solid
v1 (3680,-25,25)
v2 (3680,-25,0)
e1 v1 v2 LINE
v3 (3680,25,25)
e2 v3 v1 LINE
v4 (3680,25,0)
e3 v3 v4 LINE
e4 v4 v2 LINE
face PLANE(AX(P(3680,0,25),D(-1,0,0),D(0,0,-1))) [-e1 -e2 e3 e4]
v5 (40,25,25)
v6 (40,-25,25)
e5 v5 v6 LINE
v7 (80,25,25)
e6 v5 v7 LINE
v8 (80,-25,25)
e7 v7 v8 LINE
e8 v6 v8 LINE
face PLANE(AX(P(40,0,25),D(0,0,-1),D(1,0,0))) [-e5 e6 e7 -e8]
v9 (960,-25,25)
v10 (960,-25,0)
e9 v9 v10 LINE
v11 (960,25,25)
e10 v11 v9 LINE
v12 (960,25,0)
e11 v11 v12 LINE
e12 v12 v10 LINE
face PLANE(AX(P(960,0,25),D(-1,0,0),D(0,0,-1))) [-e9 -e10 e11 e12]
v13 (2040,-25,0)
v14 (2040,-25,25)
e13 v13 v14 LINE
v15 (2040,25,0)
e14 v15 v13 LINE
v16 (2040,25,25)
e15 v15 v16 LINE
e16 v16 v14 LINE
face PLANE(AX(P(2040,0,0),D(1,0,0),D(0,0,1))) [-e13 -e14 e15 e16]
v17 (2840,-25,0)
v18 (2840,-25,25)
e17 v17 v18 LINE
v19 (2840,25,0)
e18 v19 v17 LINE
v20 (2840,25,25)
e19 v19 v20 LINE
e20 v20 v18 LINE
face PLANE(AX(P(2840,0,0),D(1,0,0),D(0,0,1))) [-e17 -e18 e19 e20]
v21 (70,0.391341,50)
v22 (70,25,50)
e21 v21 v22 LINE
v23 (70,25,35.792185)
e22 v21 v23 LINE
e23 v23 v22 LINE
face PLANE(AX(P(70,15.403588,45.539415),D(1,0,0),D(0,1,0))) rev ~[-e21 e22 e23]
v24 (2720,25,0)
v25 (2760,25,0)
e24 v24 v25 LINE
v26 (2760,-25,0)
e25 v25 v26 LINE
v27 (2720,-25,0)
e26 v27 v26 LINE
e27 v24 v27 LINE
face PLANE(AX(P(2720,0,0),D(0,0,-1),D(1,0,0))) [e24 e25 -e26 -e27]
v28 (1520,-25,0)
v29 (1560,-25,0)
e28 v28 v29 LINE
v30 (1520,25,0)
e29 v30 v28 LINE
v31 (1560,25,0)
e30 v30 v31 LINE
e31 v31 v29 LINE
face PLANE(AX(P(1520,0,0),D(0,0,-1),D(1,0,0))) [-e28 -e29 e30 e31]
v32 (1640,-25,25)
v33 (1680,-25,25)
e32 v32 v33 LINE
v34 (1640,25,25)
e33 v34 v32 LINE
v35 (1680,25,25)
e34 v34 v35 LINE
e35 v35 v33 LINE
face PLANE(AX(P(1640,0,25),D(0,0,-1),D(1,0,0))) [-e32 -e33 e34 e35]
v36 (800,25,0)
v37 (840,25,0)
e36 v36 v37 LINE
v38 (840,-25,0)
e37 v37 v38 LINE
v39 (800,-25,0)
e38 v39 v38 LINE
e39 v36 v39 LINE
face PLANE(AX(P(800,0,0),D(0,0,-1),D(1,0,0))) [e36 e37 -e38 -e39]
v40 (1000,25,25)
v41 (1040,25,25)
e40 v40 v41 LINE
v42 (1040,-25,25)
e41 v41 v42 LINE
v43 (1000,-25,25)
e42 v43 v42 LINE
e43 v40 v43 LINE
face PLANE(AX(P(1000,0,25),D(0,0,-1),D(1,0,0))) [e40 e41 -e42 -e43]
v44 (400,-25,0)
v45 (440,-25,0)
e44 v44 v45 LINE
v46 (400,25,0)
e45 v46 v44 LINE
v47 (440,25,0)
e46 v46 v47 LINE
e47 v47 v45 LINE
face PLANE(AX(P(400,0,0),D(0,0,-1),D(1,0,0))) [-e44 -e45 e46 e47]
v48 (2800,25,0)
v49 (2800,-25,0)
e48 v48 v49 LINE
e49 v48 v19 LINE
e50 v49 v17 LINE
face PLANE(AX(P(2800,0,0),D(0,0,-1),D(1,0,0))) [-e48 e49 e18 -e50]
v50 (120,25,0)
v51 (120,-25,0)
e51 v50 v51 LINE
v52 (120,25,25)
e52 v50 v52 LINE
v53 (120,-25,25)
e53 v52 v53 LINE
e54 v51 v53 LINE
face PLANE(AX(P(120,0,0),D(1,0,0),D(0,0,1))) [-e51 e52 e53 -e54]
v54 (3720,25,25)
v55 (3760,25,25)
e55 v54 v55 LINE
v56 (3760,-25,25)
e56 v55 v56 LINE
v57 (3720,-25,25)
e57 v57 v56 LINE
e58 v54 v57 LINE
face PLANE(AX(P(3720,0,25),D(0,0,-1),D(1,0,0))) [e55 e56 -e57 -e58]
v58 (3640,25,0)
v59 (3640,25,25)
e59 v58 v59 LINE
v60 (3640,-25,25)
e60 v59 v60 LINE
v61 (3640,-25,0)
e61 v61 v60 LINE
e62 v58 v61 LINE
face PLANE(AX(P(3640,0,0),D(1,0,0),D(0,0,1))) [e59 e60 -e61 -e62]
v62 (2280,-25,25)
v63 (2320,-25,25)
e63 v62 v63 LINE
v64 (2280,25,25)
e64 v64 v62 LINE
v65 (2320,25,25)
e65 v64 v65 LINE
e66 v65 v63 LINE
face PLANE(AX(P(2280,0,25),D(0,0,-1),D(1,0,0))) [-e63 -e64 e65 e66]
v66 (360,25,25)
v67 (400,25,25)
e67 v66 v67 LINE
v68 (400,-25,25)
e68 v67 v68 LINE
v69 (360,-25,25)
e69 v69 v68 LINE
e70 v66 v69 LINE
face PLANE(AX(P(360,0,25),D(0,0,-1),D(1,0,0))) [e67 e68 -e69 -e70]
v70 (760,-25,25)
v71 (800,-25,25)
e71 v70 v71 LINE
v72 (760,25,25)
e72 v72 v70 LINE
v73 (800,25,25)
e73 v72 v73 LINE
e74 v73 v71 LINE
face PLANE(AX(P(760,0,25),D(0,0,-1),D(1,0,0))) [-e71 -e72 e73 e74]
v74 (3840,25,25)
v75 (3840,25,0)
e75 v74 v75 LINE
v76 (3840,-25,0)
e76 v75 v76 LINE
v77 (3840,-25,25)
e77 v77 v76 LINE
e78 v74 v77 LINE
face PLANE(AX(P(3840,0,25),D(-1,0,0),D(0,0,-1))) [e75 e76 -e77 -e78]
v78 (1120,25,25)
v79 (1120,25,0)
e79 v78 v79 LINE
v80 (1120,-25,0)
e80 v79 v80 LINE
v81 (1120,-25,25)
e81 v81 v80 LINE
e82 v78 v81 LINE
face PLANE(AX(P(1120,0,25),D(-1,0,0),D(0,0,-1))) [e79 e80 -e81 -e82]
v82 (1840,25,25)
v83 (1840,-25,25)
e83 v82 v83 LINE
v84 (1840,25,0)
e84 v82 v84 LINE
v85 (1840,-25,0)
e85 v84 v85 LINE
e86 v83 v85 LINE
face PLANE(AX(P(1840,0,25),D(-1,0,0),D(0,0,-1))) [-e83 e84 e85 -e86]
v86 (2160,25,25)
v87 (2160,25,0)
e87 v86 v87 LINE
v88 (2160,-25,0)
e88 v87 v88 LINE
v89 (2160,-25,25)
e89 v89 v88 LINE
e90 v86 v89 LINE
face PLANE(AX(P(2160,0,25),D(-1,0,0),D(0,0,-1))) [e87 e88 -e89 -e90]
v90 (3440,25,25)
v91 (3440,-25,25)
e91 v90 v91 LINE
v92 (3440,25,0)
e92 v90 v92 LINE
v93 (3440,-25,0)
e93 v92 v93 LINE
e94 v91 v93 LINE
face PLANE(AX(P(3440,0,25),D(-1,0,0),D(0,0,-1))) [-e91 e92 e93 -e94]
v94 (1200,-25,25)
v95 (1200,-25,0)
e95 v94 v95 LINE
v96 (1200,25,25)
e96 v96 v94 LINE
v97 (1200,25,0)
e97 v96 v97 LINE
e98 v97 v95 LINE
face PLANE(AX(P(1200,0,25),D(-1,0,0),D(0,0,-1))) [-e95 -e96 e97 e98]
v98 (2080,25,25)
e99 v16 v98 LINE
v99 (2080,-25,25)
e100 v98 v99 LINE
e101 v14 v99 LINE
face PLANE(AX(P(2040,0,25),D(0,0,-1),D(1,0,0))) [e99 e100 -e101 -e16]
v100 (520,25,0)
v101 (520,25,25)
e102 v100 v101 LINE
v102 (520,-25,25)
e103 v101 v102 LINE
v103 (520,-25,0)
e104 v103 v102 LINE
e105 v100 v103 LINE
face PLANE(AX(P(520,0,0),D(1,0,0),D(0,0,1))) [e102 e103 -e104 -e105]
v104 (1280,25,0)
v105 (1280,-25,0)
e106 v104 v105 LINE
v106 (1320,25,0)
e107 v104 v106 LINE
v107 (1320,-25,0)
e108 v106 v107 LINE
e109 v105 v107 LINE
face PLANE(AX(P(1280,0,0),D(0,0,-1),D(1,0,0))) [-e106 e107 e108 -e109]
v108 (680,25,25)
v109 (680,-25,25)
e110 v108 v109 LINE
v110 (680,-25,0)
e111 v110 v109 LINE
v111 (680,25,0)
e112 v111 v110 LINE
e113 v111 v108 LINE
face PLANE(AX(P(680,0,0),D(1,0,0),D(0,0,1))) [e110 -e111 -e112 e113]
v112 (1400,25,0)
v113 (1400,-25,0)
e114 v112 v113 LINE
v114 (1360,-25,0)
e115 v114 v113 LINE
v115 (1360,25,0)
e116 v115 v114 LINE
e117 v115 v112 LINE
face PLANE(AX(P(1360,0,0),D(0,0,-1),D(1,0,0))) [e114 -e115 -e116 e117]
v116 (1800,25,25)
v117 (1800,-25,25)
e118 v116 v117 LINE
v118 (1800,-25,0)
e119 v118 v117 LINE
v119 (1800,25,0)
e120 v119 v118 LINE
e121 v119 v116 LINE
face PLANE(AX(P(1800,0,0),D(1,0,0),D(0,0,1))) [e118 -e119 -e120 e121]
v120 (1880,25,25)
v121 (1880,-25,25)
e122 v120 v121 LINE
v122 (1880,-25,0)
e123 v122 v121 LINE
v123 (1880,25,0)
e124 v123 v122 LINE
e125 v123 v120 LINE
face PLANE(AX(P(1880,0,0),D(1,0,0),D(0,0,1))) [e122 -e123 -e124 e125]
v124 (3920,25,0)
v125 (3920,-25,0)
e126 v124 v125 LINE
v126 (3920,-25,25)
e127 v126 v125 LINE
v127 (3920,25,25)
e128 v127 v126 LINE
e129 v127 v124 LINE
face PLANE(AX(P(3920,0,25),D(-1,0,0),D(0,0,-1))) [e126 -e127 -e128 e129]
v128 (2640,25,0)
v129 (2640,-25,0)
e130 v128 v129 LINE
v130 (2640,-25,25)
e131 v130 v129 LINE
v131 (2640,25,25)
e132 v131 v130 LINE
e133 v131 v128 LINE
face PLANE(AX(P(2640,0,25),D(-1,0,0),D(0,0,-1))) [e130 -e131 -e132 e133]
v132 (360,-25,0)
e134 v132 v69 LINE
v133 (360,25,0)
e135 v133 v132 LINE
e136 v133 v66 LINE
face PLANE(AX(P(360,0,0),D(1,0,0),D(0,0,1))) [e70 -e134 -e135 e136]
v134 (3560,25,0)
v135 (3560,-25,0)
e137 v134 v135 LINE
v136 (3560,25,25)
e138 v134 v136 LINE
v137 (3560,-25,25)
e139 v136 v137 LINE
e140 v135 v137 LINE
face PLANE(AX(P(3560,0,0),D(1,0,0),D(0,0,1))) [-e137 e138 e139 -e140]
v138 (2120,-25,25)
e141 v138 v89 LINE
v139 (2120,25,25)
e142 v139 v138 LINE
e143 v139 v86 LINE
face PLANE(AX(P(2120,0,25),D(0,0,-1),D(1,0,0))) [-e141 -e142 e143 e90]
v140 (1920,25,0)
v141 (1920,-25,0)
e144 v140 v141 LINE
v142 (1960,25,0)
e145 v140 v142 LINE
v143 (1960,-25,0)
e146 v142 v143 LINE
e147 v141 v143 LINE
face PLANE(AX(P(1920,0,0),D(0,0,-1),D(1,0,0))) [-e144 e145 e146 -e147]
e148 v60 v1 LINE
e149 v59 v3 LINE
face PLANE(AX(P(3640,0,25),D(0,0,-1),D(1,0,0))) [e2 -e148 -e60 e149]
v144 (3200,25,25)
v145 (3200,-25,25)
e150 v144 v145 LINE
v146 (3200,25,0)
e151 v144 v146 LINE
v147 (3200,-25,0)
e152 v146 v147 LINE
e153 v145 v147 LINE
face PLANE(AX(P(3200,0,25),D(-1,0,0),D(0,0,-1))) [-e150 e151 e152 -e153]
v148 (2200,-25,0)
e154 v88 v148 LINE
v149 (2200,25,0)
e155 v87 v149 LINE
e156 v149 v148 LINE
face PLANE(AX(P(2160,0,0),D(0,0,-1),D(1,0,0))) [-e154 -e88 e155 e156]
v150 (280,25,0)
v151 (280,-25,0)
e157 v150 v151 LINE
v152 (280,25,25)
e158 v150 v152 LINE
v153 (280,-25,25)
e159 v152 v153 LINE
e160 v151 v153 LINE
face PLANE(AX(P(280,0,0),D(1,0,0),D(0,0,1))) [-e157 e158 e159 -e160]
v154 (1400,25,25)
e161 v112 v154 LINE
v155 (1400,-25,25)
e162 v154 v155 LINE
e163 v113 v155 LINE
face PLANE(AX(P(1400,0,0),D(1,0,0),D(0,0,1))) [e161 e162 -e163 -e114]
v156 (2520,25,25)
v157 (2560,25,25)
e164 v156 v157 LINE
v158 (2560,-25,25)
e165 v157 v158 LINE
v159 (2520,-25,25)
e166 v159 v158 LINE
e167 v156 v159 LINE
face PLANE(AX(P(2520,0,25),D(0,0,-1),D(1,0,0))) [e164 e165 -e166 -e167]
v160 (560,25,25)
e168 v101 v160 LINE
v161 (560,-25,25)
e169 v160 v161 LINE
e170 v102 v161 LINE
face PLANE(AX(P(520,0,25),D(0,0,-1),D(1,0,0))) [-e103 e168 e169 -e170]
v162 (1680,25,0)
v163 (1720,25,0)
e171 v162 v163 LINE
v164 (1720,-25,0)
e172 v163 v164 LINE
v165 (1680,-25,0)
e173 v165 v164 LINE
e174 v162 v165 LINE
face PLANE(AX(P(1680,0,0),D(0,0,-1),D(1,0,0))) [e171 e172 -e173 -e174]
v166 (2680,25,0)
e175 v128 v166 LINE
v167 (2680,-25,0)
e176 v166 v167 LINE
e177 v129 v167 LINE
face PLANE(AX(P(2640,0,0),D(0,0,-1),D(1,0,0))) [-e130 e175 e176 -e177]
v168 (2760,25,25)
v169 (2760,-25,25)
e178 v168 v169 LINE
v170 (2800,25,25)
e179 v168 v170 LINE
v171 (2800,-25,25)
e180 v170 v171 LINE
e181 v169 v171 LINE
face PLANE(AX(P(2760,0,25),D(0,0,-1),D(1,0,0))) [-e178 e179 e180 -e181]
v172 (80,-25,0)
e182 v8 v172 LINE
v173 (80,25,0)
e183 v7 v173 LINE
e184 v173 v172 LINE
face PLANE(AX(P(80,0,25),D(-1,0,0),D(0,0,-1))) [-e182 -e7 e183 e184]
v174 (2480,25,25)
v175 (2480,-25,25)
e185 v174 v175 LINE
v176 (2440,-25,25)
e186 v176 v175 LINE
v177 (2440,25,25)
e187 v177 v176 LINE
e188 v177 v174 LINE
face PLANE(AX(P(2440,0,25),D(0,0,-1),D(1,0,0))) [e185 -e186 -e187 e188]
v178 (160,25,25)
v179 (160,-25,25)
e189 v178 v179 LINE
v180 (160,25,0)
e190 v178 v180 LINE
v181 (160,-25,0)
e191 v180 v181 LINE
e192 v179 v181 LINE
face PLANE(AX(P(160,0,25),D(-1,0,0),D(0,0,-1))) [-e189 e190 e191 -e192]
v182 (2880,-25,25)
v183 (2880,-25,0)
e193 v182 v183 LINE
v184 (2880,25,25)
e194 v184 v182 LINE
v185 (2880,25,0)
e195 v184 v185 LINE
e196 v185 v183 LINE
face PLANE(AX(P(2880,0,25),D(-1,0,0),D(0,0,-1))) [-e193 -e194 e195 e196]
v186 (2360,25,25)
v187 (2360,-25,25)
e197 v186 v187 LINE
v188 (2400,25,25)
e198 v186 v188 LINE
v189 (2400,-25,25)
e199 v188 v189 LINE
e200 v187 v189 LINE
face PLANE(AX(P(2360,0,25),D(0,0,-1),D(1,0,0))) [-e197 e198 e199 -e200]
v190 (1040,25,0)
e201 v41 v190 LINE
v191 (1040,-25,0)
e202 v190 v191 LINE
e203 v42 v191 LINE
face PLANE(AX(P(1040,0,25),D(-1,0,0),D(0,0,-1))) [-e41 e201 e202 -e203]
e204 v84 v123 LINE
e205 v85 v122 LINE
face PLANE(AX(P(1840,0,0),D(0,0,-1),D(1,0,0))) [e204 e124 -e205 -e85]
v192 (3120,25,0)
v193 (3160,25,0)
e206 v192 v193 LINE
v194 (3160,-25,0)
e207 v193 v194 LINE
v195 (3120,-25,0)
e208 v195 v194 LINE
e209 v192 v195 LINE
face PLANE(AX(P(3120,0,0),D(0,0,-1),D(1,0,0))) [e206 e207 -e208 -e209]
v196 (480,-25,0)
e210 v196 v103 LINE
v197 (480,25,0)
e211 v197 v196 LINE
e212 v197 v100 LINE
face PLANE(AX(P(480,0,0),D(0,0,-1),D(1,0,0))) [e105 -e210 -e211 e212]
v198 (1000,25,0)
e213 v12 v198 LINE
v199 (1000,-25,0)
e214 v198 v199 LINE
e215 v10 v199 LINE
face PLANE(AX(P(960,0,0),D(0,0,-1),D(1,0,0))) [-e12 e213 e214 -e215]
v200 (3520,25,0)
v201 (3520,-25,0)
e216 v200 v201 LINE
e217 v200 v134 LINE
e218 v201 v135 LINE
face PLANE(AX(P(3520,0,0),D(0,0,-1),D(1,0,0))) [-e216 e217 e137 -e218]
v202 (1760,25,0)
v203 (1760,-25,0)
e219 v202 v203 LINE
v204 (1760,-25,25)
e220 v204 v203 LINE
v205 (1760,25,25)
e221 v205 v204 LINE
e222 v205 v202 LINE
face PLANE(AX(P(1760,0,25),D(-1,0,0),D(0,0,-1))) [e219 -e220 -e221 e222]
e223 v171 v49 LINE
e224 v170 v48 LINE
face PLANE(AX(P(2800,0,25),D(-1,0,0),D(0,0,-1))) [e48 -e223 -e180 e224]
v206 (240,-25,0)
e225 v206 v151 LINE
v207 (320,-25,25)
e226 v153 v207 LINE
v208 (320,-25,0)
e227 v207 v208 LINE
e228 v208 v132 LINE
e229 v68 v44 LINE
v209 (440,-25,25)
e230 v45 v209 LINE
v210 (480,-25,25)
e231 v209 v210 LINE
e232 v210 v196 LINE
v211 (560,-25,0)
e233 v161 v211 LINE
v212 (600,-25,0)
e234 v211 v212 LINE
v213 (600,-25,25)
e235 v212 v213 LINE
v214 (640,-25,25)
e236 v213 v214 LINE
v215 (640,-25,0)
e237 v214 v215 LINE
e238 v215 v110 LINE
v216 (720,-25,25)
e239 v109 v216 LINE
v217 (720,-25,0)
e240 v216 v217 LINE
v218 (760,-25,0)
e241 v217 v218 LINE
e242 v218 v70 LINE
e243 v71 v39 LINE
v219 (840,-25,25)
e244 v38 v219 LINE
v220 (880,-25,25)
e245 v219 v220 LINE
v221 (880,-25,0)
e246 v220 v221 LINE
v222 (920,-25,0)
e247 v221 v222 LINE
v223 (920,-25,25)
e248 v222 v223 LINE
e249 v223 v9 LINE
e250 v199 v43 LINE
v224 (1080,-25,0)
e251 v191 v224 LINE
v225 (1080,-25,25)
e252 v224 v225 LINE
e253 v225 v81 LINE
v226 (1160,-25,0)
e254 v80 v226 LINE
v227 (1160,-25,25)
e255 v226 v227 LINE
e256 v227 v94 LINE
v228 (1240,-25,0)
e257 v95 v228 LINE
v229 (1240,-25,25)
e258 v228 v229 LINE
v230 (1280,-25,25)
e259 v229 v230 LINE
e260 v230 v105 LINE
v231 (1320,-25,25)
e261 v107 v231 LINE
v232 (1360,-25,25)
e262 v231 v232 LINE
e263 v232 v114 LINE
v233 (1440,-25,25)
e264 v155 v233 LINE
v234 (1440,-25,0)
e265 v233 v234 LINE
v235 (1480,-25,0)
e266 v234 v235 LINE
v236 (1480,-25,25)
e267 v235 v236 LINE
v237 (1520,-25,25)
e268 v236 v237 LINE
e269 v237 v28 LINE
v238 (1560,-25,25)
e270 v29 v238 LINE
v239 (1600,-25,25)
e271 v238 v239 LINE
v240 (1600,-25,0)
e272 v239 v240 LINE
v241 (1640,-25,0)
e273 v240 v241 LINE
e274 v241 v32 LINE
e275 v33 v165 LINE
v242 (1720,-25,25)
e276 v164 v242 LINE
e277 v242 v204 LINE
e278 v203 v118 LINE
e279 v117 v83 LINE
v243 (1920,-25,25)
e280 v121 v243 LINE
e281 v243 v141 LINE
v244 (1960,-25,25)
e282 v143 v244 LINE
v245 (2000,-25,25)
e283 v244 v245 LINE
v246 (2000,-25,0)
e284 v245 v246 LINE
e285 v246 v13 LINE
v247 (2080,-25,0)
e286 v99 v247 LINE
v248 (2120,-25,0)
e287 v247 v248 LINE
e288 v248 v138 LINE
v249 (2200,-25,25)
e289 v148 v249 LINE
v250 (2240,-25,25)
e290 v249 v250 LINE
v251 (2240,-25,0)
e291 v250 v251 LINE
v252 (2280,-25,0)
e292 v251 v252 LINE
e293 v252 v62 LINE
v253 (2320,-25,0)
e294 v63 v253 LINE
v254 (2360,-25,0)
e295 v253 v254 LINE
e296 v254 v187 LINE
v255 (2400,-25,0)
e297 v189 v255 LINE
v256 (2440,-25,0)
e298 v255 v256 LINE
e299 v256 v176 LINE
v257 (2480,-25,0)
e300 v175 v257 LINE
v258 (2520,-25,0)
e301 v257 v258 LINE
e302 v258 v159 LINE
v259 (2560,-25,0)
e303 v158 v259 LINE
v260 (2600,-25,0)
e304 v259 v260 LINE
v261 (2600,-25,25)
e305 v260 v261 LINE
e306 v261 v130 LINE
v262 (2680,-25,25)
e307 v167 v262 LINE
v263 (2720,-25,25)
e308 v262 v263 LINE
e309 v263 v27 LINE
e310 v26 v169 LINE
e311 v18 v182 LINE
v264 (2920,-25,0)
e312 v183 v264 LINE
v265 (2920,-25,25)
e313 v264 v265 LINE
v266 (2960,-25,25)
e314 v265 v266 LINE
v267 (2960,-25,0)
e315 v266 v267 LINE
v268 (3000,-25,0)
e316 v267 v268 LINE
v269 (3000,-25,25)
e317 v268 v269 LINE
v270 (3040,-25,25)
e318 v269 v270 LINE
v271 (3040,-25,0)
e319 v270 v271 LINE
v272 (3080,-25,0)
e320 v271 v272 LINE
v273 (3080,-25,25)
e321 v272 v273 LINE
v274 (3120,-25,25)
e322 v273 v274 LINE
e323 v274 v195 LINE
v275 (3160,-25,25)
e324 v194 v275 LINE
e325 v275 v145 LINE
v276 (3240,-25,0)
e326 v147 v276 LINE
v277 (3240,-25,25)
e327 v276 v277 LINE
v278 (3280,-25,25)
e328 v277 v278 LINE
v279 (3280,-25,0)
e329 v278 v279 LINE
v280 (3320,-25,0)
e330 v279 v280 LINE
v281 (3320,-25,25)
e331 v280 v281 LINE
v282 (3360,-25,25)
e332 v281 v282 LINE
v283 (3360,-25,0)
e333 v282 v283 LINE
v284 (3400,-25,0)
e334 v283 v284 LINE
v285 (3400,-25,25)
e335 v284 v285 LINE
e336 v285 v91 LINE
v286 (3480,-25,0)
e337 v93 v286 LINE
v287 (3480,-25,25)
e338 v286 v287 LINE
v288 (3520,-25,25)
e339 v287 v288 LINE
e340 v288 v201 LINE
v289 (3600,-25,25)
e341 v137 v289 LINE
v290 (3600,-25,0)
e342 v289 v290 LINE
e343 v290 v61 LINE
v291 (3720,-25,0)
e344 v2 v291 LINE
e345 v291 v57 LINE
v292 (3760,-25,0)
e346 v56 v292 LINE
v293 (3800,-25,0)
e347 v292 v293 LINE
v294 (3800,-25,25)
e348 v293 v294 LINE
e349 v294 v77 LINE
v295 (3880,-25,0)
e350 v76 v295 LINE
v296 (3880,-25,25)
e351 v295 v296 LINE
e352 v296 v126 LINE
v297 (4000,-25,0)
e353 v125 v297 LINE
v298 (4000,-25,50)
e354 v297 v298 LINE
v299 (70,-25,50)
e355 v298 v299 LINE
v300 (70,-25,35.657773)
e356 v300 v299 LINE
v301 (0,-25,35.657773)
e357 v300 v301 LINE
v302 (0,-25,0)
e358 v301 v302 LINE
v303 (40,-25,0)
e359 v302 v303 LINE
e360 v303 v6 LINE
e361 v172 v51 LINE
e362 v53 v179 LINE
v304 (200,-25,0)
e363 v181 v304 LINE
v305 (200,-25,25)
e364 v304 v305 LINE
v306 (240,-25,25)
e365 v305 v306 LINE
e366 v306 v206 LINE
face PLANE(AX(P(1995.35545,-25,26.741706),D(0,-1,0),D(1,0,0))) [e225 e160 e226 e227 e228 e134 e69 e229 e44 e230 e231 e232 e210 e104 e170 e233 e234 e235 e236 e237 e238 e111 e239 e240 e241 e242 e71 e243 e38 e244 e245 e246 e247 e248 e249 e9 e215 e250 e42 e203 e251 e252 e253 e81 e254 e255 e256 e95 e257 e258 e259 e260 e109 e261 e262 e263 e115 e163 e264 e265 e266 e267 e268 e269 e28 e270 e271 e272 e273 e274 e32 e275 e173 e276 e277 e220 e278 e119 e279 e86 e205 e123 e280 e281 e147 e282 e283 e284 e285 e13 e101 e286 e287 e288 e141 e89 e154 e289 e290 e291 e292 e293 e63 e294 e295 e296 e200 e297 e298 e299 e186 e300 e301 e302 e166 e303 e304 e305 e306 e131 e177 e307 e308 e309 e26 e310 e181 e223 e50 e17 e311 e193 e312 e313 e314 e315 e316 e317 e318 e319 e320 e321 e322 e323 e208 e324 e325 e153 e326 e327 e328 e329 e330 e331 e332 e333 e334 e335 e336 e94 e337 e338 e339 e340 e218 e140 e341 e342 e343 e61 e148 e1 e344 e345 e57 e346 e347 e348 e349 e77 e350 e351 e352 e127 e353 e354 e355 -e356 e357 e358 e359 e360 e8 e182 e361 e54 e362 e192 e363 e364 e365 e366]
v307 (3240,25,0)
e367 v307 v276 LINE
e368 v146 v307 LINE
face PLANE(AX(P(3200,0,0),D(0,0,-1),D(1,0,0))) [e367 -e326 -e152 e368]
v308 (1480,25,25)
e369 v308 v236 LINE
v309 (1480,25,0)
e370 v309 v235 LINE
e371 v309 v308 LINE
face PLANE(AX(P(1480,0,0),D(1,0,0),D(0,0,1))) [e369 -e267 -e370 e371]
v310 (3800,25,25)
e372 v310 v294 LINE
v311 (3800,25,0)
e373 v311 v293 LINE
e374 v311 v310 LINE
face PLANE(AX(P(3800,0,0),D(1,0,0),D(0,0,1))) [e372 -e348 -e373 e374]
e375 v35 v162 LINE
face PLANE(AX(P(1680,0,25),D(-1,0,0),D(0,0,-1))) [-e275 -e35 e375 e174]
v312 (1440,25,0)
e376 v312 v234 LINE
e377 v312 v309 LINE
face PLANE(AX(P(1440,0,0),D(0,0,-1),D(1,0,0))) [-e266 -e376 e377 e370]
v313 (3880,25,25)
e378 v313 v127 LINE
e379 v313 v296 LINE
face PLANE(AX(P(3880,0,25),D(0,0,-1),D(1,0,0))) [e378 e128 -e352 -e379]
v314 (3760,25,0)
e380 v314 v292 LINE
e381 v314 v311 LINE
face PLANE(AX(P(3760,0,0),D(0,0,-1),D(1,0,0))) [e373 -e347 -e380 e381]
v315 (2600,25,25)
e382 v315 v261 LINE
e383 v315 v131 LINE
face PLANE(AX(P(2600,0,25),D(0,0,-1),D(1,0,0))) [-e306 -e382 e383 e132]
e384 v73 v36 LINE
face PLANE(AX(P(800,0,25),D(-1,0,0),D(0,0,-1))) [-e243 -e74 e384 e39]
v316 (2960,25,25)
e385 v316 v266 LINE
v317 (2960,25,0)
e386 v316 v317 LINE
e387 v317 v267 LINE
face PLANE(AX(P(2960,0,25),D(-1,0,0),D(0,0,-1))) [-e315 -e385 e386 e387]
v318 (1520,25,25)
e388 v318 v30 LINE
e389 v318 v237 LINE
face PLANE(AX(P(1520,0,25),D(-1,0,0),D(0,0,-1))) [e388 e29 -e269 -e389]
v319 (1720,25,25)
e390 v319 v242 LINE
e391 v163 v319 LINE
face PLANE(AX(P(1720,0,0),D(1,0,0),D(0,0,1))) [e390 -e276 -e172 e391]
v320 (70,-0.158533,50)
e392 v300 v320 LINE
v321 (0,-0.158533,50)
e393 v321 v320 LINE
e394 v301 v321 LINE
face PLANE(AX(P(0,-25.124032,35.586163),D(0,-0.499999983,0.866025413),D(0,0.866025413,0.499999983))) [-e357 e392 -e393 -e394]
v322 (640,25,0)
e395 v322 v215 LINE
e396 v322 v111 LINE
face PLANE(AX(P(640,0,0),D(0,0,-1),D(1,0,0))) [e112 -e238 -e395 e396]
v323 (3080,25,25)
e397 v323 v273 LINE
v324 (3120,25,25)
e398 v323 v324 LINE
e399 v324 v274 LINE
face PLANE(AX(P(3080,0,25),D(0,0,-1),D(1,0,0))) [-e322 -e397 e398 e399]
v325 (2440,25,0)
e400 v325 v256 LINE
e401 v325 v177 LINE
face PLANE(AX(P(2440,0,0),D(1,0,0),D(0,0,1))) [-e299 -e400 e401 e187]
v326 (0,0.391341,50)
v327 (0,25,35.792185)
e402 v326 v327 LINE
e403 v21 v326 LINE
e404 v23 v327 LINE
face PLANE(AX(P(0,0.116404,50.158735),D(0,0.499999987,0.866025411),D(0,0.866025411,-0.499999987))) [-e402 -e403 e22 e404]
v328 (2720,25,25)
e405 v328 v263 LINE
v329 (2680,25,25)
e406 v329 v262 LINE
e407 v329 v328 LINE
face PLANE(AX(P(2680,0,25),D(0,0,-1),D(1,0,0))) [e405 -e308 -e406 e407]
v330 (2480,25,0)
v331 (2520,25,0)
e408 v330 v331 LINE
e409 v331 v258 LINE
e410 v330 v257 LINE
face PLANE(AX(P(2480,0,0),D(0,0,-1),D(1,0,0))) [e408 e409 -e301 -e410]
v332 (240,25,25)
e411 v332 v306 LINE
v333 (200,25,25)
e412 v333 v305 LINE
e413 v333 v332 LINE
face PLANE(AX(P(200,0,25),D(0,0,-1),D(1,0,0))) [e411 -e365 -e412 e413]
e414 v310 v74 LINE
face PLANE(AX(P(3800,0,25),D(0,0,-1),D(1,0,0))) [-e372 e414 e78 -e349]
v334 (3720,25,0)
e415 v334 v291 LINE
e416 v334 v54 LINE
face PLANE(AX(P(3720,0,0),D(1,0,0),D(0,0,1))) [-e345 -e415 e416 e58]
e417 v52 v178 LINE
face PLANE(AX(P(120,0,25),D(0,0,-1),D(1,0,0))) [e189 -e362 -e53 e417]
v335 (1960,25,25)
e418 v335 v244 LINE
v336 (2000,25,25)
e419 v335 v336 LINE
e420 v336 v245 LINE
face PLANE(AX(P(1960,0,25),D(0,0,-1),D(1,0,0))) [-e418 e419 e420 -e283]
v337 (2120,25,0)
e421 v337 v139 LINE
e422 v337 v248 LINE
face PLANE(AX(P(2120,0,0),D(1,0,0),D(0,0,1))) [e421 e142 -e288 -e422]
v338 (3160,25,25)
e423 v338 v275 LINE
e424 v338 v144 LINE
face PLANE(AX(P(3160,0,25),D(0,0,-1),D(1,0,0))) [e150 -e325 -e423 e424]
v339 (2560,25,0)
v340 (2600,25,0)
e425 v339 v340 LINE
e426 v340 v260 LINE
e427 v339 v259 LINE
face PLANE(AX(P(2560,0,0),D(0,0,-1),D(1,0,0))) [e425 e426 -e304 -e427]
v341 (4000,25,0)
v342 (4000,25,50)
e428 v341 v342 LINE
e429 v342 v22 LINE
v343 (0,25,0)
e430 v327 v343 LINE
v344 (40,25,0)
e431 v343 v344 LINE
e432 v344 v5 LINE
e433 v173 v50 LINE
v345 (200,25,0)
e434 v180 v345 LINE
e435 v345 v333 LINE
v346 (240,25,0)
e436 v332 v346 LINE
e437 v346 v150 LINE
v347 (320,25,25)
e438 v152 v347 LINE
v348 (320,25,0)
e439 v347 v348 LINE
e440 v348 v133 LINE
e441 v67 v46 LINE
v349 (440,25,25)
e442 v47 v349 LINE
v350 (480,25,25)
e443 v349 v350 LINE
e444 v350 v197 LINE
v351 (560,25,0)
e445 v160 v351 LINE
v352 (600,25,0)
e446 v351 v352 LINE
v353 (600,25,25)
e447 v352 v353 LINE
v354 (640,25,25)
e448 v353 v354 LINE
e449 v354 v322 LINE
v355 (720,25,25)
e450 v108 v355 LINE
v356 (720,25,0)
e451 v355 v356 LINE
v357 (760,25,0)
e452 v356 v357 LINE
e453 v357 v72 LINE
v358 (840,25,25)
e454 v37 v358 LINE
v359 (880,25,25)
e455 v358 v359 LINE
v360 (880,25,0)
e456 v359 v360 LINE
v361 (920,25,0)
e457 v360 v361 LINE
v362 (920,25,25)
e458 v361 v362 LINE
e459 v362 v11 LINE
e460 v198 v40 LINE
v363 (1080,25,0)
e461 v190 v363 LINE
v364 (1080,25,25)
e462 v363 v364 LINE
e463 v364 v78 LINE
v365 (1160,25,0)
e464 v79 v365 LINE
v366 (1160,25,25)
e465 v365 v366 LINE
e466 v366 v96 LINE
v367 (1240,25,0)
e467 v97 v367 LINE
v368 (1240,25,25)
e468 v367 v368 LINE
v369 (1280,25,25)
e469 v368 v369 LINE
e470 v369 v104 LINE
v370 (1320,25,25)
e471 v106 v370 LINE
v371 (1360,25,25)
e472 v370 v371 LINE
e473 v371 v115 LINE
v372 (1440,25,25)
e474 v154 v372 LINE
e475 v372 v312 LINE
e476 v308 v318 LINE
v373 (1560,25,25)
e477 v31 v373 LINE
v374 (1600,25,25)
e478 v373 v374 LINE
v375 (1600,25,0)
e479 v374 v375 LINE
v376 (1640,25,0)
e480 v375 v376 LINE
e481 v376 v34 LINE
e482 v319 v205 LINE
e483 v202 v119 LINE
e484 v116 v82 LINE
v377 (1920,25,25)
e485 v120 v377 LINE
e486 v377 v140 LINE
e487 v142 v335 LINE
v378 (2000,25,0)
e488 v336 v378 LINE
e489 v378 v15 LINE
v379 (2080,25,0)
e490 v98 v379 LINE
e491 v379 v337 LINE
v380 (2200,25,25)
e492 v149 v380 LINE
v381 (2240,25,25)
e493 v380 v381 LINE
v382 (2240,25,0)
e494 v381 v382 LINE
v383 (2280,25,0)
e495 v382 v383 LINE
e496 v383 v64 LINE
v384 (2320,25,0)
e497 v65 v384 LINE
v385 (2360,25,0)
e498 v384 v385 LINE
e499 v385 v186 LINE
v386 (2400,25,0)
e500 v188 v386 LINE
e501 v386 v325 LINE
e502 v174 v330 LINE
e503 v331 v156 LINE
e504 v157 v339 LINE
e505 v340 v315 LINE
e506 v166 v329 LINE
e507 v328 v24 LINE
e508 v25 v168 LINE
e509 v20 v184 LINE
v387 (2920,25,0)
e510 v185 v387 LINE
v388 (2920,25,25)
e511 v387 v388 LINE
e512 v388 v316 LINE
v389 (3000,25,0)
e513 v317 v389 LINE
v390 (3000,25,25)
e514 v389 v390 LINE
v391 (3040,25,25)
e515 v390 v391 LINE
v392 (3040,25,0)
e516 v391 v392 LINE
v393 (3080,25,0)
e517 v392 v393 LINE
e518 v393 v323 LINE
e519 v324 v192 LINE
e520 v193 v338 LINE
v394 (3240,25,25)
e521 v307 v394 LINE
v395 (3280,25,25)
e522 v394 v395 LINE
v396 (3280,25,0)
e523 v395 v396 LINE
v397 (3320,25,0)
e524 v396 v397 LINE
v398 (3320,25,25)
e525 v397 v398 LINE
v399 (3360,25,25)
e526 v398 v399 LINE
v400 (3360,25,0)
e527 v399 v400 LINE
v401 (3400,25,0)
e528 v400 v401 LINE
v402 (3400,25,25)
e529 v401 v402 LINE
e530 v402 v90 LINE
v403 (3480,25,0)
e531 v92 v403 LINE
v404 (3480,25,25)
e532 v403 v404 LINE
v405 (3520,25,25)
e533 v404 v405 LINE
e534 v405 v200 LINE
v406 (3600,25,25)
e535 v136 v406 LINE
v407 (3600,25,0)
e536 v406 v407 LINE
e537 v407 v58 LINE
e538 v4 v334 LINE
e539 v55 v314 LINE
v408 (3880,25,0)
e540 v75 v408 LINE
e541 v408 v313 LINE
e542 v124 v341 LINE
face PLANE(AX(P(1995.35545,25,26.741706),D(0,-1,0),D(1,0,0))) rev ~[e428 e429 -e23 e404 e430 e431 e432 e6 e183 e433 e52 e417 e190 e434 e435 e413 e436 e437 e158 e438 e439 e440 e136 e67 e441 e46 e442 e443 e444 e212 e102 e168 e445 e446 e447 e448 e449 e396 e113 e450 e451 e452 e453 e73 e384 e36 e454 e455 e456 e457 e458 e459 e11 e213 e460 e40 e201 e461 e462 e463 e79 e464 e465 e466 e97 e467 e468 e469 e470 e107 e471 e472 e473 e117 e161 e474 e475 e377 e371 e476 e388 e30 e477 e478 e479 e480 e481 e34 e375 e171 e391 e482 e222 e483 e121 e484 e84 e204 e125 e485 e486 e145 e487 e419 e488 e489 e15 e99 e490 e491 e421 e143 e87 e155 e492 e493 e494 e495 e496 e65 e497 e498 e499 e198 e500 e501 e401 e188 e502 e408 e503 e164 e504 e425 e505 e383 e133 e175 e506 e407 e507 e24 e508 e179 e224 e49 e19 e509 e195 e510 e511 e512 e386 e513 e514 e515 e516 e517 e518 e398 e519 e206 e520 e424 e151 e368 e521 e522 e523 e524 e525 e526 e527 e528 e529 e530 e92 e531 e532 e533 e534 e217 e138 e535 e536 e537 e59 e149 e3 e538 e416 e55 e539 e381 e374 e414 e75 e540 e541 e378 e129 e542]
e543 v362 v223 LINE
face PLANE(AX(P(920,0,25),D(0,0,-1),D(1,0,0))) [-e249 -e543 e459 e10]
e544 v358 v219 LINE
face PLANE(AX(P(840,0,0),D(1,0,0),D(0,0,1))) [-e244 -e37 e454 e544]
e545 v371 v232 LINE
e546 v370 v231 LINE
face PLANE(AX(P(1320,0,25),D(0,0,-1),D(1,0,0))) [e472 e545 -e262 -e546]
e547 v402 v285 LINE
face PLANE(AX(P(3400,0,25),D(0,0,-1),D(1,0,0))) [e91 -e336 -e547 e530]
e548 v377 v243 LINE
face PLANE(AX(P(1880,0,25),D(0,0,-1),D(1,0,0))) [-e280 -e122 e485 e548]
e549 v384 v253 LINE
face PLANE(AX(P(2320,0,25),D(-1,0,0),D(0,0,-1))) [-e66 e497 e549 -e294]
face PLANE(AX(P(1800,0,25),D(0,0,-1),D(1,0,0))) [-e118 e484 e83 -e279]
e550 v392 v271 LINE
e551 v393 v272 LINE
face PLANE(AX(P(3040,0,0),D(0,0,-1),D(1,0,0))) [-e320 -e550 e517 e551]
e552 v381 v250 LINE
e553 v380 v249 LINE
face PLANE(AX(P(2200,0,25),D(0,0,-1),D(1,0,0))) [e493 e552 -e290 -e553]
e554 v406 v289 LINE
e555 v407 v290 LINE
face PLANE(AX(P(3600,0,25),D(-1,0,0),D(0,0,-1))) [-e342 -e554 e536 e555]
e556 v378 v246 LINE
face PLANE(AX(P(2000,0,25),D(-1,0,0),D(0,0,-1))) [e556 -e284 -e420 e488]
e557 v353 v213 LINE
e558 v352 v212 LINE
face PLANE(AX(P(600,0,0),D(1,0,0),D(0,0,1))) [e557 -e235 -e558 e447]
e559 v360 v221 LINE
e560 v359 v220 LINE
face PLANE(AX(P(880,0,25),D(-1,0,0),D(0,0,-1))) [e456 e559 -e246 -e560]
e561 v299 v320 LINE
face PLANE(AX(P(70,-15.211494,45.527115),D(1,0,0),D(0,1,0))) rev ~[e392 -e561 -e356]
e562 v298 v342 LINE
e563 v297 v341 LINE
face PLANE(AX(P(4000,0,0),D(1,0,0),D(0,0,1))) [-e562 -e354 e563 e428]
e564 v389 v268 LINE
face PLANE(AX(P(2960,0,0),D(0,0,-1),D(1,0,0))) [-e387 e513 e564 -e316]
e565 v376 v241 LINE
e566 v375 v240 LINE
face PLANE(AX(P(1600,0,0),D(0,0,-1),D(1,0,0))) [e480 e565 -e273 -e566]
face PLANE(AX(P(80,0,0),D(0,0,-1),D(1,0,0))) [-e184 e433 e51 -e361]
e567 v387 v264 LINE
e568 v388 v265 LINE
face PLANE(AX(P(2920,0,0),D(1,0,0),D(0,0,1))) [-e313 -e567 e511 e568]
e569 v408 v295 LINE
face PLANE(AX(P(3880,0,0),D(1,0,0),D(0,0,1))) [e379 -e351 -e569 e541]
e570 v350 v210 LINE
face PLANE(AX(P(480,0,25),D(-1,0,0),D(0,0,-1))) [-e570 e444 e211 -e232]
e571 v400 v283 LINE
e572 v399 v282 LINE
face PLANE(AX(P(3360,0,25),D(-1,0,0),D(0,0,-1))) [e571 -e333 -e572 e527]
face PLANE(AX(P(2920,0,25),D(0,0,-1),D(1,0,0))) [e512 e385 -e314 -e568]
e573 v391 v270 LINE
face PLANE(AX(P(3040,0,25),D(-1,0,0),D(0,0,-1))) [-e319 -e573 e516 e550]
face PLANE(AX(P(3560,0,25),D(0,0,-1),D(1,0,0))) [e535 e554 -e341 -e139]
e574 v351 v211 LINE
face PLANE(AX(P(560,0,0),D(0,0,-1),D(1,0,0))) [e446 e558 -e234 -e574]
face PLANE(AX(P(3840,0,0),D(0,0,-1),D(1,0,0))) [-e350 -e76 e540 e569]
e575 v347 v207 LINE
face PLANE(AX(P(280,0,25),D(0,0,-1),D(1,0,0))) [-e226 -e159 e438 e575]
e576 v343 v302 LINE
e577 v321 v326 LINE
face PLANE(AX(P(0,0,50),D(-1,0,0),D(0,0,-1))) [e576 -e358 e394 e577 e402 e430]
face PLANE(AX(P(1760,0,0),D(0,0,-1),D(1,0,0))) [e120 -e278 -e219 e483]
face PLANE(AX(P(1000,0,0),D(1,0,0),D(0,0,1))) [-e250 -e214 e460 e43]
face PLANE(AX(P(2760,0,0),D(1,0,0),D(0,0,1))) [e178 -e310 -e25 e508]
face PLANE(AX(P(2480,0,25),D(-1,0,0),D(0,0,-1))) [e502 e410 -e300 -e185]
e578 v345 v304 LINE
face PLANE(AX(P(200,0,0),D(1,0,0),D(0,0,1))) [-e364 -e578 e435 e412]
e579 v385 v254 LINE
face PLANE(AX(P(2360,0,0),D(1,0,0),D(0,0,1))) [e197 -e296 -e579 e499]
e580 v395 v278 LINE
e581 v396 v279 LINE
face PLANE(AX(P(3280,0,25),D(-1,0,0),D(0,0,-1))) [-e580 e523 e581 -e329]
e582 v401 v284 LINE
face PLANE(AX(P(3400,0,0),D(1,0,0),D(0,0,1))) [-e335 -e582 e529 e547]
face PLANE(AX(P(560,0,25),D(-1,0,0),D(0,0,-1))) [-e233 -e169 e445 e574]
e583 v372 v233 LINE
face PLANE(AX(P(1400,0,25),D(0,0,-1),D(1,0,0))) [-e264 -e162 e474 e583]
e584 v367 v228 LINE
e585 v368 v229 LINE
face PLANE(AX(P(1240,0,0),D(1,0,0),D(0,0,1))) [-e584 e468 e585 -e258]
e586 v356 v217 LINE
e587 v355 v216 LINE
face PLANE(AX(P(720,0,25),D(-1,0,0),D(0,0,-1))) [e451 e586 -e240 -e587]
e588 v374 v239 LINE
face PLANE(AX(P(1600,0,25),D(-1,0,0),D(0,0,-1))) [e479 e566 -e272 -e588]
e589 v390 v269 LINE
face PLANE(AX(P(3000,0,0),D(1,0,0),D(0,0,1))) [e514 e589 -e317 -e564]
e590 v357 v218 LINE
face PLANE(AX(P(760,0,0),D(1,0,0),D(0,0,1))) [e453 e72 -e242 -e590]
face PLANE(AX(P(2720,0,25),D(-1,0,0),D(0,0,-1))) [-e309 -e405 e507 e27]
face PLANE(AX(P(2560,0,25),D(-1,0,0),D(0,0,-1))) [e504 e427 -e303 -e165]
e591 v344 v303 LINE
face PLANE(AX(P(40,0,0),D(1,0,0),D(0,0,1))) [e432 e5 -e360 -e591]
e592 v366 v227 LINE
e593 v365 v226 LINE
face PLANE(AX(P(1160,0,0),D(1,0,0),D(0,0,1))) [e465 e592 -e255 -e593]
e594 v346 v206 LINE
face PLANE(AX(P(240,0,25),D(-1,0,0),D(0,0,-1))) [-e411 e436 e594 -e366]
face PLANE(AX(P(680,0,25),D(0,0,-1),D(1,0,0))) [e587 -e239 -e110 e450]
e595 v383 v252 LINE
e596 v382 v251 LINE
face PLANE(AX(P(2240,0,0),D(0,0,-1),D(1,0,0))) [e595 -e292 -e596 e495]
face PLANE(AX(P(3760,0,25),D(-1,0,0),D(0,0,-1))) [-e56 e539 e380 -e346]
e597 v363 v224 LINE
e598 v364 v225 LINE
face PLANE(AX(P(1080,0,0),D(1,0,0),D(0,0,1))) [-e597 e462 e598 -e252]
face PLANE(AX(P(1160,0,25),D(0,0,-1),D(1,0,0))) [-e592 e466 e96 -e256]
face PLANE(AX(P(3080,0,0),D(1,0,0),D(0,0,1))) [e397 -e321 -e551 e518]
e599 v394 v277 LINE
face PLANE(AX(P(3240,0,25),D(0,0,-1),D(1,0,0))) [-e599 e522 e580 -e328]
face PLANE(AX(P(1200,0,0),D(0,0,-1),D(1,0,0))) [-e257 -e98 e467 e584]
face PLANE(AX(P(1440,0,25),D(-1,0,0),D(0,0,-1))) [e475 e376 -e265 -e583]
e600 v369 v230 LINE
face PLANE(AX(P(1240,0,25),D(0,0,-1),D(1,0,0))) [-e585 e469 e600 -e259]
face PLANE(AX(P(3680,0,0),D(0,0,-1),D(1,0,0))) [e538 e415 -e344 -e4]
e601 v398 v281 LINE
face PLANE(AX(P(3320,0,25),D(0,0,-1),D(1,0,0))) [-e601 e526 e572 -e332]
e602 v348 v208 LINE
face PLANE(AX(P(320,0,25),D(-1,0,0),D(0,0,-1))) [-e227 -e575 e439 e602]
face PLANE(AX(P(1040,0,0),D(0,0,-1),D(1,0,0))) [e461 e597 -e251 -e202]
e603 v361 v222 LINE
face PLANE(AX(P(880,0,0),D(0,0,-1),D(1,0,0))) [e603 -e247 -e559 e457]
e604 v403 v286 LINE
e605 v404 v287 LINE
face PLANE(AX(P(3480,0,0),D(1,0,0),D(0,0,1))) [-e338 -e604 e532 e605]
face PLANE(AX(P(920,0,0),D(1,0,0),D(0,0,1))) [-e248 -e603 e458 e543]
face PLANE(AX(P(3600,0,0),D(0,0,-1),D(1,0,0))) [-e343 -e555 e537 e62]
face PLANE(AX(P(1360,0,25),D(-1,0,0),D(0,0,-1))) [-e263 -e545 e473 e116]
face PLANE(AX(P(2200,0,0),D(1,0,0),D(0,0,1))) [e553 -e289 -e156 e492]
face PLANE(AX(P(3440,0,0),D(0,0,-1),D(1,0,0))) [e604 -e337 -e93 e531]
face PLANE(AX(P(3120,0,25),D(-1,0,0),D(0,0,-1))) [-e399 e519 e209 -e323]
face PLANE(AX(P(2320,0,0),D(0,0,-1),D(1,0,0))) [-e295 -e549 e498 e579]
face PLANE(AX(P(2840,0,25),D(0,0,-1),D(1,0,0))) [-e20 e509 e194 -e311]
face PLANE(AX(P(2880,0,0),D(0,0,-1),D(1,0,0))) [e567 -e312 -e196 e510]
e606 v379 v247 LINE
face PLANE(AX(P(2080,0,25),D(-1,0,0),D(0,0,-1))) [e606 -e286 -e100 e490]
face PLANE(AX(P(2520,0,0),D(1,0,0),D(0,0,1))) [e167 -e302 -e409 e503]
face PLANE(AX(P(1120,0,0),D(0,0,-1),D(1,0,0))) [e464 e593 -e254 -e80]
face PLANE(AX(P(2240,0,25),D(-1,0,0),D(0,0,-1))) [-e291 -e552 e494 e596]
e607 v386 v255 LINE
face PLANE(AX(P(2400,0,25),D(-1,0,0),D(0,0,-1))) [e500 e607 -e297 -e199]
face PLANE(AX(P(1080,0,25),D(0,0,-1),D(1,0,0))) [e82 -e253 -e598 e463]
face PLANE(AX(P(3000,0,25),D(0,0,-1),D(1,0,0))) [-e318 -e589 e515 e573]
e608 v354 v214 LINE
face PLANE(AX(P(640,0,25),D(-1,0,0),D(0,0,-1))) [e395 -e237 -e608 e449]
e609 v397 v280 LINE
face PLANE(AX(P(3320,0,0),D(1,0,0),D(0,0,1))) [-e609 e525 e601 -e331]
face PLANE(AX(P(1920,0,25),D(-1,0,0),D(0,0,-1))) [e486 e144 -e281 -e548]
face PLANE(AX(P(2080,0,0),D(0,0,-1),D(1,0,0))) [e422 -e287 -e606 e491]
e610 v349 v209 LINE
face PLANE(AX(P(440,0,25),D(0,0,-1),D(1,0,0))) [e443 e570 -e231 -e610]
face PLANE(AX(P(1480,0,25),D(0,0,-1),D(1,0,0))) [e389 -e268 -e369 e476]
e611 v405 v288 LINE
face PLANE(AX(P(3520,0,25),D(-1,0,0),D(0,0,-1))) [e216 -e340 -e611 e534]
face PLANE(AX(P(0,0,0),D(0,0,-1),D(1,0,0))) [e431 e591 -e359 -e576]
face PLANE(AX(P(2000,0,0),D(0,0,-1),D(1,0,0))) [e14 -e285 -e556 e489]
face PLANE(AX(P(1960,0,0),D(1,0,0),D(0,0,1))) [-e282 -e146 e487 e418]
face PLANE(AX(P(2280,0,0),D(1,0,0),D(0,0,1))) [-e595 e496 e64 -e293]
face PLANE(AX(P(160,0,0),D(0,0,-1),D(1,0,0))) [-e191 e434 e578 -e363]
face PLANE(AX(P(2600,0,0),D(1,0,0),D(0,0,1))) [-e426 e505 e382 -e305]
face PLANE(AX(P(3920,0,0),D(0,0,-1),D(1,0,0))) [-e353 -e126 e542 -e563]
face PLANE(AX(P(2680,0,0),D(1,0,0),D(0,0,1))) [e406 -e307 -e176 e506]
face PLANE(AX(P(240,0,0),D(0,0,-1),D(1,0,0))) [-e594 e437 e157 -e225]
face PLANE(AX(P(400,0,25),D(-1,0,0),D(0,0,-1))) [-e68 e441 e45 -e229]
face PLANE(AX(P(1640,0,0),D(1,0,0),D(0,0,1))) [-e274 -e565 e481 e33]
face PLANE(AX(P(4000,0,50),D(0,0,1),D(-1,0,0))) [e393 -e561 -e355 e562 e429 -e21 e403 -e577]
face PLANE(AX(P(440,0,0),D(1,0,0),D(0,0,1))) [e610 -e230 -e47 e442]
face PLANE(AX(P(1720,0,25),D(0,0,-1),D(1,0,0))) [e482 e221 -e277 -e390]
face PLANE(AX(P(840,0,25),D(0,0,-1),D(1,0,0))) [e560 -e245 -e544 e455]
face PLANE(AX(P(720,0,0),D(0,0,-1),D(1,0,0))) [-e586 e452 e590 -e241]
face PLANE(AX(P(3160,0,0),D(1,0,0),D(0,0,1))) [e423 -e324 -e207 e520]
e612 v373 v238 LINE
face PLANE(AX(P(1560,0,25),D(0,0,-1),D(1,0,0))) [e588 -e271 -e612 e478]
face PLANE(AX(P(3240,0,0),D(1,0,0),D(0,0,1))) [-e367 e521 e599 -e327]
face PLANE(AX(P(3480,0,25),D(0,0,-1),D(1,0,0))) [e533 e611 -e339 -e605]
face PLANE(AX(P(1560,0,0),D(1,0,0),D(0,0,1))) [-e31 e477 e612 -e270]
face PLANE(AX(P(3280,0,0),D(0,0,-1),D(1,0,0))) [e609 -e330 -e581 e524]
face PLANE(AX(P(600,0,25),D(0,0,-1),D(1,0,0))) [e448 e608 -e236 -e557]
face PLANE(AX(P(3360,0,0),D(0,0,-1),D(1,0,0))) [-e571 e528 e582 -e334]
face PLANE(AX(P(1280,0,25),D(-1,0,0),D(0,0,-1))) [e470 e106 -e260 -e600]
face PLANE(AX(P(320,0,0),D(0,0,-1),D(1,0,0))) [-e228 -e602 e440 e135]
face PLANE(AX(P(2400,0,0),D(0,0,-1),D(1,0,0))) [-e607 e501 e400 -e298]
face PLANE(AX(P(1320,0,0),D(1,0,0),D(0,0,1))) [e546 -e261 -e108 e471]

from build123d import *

# Parameters (mm, degrees)
F1_DEPTH = 25
F3_DEPTH = 70


with BuildPart() as f1:
    # F0 (on Front) → F1 (new body, symmetric)
    with BuildSketch(Plane.XZ):
        Polygon((0, 50), (0, 0), (40, 0), (40, 25), (80, 25), (80, 0), (120, 0), (120, 25), (160, 25), (160, 0), (200, 0), (200, 25), (240, 25), (240, 0), (280, 0), (280, 25), (320, 25), (320, 0), (360, 0), (360, 25), (400, 25), (400, 0), (440, 0), (440, 25), (480, 25), (480, 0), (520, 0), (520, 25), (560, 25), (560, 0), (600, 0), (600, 25), (640, 25), (640, 0), (680, 0), (680, 25), (720, 25), (720, 0), (760, 0), (760, 25), (800, 25), (800, 0), (840, 0), (840, 25), (880, 25), (880, 0), (920, 0), (920, 25), (960, 25), (960, 0), (1000, 0), (1000, 25), (1040, 25), (1040, 0), (1080, 0), (1080, 25), (1120, 25), (1120, 0), (1160, 0), (1160, 25), (1200, 25), (1200, 0), (1240, 0), (1240, 25), (1280, 25), (1280, 0), (1320, 0), (1320, 25), (1360, 25), (1360, 0), (1400, 0), (1400, 25), (1440, 25), (1440, 0), (1480, 0), (1480, 25), (1520, 25), (1520, 0), (1560, 0), (1560, 25), (1600, 25), (1600, 0), (1640, 0), (1640, 25), (1680, 25), (1680, 0), (1720, 0), (1720, 25), (1760, 25), (1760, 0), (1800, 0), (1800, 25), (1840, 25), (1840, 0), (1880, 0), (1880, 25), (1920, 25), (1920, 0), (1960, 0), (1960, 25), (2000, 25), (2000, 0), (2040, 0), (2040, 25), (2080, 25), (2080, 0), (2120, 0), (2120, 25), (2160, 25), (2160, 0), (2200, 0), (2200, 25), (2240, 25), (2240, 0), (2280, 0), (2280, 25), (2320, 25), (2320, 0), (2360, 0), (2360, 25), (2400, 25), (2400, 0), (2440, 0), (2440, 25), (2480, 25), (2480, 0), (2520, 0), (2520, 25), (2560, 25), (2560, 0), (2600, 0), (2600, 25), (2640, 25), (2640, 0), (2680, 0), (2680, 25), (2720, 25), (2720, 0), (2760, 0), (2760, 25), (2800, 25), (2800, 0), (2840, 0), (2840, 25), (2880, 25), (2880, 0), (2920, 0), (2920, 25), (2960, 25), (2960, 0), (3000, 0), (3000, 25), (3040, 25), (3040, 0), (3080, 0), (3080, 25), (3120, 25), (3120, 0), (3160, 0), (3160, 25), (3200, 25), (3200, 0), (3240, 0), (3240, 25), (3280, 25), (3280, 0), (3320, 0), (3320, 25), (3360, 25), (3360, 0), (3400, 0), (3400, 25), (3440, 25), (3440, 0), (3480, 0), (3480, 25), (3520, 25), (3520, 0), (3560, 0), (3560, 25), (3600, 25), (3600, 0), (3640, 0), (3640, 25), (3680, 25), (3680, 0), (3720, 0), (3720, 25), (3760, 25), (3760, 0), (3800, 0), (3800, 25), (3840, 25), (3840, 0), (3880, 0), (3880, 25), (3920, 25), (3920, 0), (4000, 0), (4000, 50), align=None)
    extrude(amount=F1_DEPTH, both=True)

    # F2 (on Right) → F3 (cut)
    with BuildSketch(Plane.YZ):
        Polygon((-25.124032, 50.158735), (-25.124032, 35.586163), (0, 50.091529), (0, 50.158735), align=None)
        Polygon((25.35684, 50.158735), (0.116404, 50.158735), (25.35684, 35.586163), align=None)
    extrude(amount=F3_DEPTH, mode=Mode.SUBTRACT)


solid = f1.part
